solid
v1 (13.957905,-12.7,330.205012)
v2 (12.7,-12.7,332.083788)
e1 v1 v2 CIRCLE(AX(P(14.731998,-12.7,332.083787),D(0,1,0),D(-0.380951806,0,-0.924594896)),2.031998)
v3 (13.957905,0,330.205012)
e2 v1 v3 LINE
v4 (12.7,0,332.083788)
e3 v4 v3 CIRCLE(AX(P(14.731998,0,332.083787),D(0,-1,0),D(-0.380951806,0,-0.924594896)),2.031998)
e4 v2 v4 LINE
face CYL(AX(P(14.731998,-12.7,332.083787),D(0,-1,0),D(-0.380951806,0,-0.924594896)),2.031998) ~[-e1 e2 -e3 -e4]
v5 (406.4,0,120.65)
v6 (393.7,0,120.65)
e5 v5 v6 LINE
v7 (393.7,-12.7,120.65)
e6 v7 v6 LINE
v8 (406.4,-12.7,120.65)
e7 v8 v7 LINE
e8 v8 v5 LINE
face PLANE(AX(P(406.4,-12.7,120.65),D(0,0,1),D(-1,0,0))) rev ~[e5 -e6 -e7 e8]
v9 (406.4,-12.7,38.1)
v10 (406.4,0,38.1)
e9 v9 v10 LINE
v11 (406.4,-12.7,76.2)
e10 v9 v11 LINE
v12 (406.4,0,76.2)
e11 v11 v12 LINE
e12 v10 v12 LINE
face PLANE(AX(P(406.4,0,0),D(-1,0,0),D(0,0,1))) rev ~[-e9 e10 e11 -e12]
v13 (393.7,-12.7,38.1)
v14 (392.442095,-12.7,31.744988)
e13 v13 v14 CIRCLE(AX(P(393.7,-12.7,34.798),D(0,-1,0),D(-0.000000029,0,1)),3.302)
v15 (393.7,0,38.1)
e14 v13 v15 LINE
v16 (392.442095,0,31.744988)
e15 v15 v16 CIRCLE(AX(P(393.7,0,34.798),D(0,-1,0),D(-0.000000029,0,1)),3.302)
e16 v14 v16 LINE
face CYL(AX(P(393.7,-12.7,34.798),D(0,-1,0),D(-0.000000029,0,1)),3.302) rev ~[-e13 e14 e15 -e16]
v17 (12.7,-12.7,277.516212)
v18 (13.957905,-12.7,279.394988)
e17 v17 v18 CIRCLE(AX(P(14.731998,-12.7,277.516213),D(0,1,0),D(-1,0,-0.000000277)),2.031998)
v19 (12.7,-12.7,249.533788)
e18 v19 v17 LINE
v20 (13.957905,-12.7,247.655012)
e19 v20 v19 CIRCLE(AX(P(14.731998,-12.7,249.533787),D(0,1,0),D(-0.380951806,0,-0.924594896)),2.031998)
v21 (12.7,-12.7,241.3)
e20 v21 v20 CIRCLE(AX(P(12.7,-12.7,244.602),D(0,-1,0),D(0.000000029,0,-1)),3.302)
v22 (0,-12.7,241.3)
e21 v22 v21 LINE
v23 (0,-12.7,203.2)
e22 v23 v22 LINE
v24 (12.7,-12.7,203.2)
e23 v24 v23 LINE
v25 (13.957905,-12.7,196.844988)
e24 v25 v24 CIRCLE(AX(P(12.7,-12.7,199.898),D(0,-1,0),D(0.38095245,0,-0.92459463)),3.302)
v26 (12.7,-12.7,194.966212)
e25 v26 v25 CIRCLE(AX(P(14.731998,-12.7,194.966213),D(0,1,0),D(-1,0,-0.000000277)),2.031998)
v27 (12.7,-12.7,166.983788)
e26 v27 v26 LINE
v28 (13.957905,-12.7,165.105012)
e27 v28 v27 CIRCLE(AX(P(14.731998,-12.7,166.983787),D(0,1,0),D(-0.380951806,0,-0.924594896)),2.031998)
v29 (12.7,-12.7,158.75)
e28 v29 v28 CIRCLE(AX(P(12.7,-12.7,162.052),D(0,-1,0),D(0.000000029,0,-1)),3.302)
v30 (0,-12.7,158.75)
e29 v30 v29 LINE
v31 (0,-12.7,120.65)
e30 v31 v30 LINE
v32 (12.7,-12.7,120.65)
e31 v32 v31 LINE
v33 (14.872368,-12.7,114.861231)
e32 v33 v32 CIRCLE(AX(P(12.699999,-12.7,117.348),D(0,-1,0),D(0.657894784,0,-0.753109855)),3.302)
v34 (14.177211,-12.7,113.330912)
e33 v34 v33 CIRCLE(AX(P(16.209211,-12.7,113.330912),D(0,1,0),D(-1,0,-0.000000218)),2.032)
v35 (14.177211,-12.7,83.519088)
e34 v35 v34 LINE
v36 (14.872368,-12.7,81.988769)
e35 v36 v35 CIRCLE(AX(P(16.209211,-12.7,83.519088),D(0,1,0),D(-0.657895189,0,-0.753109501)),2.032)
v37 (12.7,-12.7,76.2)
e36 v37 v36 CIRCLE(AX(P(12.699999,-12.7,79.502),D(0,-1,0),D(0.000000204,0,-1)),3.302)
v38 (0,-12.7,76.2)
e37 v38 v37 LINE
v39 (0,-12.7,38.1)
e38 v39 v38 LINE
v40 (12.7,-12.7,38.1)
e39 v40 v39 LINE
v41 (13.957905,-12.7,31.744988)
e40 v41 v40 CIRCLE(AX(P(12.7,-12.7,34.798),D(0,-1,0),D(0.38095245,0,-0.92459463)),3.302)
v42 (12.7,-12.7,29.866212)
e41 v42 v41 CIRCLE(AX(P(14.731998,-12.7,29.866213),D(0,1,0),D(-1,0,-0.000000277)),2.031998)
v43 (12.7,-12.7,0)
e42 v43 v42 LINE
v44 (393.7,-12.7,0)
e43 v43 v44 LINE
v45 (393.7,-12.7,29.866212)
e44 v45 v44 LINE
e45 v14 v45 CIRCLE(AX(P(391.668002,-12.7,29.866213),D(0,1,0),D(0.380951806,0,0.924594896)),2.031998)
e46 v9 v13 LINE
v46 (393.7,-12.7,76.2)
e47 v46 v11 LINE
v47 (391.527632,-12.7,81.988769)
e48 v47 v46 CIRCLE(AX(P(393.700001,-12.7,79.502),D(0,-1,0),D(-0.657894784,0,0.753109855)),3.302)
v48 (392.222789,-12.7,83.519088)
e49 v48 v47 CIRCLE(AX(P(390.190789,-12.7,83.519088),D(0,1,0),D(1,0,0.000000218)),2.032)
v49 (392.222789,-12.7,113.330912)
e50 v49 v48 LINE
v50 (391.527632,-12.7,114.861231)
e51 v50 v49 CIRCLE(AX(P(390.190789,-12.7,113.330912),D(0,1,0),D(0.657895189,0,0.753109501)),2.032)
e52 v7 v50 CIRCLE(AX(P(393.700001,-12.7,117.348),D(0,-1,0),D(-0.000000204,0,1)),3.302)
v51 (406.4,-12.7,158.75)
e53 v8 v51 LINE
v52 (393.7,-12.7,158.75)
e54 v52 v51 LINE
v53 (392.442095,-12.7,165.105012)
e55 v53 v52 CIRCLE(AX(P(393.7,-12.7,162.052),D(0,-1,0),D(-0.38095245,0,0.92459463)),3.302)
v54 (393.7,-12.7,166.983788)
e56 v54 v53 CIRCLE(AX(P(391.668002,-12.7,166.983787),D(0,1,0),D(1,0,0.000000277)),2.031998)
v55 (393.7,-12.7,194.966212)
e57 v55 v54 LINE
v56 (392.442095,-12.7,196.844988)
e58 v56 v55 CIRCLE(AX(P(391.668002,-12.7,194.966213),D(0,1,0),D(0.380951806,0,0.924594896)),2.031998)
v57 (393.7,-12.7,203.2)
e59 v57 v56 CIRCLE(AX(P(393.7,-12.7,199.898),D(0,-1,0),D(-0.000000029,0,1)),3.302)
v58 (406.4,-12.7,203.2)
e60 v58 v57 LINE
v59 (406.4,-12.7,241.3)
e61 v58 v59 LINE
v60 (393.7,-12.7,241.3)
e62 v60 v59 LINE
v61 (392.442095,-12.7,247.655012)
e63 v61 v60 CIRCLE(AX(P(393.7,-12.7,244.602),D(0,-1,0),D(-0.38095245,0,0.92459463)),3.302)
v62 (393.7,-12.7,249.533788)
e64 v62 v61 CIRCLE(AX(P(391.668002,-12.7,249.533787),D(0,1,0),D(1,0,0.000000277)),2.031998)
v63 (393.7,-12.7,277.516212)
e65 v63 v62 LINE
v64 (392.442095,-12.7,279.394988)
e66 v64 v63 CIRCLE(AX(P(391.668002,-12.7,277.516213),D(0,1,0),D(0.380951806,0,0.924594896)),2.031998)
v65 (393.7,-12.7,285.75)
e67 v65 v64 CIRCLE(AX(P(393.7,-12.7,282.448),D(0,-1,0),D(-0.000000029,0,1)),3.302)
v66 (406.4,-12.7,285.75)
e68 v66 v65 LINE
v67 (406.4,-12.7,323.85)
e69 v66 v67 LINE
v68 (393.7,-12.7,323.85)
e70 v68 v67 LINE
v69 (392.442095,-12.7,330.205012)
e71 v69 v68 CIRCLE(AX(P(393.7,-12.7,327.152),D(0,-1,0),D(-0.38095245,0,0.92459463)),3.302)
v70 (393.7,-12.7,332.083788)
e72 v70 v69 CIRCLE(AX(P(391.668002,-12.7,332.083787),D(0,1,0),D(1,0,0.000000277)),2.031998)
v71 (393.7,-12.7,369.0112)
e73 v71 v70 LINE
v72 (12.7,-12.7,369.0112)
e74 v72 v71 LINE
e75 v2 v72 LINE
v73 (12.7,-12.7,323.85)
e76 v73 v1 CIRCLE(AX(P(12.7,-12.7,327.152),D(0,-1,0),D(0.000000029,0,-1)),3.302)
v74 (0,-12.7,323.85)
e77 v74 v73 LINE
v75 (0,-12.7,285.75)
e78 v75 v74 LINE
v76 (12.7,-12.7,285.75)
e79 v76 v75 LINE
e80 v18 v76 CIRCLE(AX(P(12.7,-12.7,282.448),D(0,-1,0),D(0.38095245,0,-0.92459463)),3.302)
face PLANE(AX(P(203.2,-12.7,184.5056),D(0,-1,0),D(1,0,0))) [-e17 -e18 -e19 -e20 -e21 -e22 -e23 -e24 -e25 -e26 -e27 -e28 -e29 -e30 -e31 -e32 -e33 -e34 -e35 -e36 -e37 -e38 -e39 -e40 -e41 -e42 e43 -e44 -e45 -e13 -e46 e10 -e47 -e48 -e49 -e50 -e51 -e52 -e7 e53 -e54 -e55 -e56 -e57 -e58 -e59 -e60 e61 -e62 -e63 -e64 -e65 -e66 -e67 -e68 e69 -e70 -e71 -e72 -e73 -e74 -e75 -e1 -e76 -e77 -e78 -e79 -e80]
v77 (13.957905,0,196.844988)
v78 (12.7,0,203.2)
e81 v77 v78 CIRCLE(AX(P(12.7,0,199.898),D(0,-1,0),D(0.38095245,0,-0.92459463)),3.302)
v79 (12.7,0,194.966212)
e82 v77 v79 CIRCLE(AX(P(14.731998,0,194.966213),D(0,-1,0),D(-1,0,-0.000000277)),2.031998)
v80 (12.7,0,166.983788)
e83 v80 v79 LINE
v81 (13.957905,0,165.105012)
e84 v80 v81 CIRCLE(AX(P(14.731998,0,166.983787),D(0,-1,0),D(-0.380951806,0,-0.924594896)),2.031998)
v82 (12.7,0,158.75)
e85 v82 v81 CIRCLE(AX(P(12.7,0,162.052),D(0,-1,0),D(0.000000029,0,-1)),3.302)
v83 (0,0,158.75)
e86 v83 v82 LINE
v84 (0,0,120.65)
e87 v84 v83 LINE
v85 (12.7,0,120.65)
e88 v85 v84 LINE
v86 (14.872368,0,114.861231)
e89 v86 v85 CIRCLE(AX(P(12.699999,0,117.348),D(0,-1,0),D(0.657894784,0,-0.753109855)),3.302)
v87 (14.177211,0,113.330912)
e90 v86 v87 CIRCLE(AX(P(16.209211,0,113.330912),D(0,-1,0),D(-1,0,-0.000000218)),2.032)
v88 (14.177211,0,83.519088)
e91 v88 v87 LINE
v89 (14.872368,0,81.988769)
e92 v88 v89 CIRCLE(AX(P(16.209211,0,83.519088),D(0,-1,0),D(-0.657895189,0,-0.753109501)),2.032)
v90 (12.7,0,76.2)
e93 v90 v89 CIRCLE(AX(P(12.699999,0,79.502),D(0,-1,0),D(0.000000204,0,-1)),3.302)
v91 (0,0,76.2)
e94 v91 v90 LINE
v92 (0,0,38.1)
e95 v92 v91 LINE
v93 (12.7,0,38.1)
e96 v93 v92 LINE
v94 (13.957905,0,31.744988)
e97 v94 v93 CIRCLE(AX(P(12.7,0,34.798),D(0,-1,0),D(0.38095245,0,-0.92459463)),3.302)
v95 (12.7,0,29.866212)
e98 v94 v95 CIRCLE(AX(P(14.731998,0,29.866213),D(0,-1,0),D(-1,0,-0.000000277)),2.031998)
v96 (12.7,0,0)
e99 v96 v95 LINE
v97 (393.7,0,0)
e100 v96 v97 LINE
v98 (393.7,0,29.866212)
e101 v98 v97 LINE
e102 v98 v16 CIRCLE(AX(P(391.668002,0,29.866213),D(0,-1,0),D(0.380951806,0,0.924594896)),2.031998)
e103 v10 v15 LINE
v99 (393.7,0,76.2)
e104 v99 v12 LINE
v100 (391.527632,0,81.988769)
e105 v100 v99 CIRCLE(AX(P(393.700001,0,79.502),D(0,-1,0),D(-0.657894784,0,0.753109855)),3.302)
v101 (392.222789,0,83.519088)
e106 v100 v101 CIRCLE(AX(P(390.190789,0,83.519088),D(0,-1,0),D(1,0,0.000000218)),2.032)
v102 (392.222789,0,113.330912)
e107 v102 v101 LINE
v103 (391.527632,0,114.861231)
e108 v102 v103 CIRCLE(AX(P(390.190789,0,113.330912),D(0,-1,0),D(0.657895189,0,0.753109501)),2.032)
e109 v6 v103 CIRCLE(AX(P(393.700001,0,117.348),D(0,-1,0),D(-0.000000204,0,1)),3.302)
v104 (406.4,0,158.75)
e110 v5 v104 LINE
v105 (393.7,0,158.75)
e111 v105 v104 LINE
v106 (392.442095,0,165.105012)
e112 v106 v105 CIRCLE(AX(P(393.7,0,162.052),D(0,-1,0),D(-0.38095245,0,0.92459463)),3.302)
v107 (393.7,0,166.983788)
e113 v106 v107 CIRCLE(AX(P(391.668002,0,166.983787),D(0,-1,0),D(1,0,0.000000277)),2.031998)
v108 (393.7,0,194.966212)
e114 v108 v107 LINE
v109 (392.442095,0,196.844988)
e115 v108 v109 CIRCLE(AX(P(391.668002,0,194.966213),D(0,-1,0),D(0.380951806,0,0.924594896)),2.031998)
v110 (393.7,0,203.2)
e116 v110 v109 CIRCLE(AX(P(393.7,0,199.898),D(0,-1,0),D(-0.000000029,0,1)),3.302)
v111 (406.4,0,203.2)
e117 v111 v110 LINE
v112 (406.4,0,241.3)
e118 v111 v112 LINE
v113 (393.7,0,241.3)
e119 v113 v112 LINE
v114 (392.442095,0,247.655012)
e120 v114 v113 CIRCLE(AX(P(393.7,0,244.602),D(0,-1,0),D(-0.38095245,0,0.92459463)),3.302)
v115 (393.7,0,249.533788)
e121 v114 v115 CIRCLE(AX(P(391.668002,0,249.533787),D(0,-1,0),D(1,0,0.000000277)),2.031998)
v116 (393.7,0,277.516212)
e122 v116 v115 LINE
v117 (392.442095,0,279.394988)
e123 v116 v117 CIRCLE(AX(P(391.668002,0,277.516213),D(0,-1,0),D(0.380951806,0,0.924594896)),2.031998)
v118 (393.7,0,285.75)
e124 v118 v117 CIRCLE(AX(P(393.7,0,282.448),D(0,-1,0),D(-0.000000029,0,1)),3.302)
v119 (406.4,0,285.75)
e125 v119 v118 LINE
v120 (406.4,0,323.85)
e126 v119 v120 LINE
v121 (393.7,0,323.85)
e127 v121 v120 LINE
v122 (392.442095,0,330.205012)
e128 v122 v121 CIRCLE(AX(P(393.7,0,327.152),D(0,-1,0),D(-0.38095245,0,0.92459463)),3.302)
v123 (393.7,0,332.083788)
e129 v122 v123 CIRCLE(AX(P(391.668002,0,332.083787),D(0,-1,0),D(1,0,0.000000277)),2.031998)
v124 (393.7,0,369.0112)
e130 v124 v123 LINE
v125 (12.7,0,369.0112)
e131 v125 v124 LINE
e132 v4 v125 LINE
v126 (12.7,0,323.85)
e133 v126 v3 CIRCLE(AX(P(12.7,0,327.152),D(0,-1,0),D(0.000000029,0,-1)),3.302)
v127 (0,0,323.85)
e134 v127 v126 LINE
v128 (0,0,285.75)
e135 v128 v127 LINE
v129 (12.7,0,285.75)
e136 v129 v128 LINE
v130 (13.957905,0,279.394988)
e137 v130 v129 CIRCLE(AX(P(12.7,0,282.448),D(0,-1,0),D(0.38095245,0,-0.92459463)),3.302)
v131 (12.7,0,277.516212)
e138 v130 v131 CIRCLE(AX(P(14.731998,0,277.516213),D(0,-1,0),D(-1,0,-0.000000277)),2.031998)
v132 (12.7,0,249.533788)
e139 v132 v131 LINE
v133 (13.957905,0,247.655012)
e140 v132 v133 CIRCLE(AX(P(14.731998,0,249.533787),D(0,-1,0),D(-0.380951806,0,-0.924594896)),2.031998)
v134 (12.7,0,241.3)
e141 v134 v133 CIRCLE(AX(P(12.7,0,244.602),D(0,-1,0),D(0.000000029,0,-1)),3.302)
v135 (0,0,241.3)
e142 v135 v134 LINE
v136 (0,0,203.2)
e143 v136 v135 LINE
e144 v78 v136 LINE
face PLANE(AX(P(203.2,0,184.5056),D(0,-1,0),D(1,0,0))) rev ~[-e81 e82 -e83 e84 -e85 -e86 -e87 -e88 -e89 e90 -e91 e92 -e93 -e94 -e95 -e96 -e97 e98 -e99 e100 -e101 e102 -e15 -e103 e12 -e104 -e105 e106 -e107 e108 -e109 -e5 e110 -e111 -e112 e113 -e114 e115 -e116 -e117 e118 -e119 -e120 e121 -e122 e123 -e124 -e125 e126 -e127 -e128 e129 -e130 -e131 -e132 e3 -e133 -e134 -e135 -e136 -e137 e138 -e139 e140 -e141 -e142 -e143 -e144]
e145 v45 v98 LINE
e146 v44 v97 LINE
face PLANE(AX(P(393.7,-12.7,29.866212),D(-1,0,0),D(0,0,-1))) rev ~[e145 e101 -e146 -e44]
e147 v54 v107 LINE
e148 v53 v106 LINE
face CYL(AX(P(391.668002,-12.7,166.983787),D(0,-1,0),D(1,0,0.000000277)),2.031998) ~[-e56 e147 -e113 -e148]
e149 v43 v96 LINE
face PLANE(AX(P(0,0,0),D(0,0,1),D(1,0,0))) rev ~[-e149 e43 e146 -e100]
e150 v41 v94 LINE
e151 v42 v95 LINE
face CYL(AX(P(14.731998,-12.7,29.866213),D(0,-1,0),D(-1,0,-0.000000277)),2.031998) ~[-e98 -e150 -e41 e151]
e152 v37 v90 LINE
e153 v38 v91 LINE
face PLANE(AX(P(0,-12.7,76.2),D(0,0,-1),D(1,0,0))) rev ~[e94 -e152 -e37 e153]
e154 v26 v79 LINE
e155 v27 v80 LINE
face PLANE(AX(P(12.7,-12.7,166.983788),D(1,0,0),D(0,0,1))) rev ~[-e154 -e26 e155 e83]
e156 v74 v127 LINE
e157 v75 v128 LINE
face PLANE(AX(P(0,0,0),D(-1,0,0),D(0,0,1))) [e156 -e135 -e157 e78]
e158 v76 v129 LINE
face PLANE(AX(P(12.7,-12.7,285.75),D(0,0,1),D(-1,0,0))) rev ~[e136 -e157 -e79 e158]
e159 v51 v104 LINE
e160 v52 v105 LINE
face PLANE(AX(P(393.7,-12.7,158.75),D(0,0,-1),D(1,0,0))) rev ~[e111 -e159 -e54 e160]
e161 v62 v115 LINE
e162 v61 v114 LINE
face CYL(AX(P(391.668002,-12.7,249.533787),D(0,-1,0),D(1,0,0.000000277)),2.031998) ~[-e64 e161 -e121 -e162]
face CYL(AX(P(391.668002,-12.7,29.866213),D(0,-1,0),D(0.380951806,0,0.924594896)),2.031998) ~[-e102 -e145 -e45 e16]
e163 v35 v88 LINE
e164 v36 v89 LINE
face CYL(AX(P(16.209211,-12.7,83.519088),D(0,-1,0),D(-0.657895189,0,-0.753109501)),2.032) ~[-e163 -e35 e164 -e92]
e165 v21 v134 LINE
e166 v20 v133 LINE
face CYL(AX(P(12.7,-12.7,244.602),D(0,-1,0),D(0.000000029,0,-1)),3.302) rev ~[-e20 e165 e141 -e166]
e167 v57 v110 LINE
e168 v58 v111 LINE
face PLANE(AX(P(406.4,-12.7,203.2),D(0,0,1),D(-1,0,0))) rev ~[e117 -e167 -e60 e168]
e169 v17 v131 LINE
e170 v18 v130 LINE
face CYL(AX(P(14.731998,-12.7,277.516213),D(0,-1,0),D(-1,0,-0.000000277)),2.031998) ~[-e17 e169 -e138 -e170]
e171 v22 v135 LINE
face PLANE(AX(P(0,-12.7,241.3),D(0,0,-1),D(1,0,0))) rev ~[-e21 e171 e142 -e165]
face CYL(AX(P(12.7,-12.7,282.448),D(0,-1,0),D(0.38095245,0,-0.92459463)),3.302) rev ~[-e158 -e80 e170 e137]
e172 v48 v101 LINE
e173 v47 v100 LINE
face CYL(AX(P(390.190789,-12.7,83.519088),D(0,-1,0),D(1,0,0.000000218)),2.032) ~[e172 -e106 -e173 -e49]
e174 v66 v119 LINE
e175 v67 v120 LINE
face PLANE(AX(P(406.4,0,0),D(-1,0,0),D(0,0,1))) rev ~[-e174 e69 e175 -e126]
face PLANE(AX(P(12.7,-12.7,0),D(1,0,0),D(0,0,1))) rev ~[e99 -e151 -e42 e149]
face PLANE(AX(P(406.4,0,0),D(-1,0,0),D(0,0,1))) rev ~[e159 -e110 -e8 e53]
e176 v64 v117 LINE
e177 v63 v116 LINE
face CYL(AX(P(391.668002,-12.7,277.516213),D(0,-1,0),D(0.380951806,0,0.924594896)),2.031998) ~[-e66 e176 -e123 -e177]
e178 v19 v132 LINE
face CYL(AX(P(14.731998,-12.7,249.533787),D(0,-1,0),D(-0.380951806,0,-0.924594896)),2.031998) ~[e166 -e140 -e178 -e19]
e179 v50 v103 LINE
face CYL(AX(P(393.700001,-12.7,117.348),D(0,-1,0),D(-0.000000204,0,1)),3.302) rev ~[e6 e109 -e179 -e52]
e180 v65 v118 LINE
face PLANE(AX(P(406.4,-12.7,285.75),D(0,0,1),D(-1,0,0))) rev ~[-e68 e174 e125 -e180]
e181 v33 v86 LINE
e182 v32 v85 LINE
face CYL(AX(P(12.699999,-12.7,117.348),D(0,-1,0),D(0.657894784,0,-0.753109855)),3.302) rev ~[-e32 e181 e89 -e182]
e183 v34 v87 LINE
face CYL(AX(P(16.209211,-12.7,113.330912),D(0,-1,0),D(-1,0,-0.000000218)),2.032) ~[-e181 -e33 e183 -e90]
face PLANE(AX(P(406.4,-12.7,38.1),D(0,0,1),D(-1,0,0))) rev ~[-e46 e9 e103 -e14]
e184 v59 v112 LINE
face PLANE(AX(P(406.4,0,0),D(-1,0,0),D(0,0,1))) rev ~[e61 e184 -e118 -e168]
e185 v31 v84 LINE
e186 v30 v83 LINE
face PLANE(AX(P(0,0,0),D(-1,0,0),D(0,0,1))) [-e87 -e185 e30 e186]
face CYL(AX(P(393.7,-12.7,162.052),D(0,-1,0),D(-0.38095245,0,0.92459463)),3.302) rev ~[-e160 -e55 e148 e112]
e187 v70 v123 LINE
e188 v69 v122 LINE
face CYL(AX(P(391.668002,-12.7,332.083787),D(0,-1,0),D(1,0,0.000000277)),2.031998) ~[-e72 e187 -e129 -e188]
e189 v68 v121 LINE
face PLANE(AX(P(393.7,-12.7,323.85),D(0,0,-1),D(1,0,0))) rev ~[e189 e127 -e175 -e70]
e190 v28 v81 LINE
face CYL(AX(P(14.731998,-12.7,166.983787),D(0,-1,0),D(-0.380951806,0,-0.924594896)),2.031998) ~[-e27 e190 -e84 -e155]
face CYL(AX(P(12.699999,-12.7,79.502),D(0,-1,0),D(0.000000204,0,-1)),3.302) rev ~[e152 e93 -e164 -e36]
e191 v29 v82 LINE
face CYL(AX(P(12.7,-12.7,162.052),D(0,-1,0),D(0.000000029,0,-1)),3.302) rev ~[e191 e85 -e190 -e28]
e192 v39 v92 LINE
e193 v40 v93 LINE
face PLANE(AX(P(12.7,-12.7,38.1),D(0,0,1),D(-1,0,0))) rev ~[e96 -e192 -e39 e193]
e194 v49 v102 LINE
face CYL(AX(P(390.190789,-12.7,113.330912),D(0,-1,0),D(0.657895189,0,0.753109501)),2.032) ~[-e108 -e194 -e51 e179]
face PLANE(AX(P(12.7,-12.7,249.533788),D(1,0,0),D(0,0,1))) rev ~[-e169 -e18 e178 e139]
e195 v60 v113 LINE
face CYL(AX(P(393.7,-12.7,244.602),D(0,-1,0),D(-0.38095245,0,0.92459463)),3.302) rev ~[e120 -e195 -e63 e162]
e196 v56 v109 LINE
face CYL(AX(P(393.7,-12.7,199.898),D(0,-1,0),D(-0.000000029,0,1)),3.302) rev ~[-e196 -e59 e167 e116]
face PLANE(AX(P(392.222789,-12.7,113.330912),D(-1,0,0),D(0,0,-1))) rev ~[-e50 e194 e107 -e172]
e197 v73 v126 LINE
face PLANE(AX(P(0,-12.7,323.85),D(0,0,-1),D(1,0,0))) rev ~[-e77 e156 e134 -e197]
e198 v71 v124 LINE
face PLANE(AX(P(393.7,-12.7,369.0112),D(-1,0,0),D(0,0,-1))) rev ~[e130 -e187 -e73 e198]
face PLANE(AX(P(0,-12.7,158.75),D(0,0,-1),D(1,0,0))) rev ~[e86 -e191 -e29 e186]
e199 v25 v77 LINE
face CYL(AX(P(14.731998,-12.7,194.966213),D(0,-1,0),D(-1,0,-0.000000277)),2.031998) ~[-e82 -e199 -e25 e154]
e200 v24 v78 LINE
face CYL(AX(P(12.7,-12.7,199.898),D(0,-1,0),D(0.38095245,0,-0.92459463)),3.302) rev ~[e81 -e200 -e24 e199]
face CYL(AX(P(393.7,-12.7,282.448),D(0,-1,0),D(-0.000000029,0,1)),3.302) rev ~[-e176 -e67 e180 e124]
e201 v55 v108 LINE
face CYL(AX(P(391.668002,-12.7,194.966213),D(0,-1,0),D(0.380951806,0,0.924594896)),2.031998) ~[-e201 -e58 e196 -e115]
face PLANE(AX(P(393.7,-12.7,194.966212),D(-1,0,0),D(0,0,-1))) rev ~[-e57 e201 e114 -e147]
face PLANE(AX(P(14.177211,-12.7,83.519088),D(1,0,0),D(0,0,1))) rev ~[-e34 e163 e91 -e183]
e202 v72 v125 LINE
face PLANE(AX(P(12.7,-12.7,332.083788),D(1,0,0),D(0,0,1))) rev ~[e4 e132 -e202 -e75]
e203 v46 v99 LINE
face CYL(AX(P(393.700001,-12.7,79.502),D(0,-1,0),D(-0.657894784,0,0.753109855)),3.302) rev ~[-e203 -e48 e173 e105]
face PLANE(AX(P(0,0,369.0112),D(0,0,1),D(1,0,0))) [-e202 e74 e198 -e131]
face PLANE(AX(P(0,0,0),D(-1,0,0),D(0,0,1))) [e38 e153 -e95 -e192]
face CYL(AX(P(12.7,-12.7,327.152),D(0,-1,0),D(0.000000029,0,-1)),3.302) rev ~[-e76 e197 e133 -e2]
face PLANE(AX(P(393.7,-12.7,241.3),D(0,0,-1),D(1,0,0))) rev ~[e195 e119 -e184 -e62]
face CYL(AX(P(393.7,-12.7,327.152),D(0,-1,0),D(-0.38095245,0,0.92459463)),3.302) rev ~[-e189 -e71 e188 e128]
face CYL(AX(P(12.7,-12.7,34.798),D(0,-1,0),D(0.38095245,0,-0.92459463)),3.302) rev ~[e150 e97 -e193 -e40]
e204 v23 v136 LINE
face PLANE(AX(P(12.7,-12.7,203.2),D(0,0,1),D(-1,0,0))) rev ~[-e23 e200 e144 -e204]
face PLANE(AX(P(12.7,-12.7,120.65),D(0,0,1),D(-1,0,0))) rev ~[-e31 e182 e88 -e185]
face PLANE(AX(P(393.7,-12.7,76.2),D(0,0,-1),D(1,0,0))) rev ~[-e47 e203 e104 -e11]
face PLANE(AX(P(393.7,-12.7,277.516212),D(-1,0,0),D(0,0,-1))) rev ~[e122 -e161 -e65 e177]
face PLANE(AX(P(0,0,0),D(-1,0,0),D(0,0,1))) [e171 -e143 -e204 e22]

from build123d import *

# Parameters (mm, degrees)
F0_W     = 406.4
F0_H     = 369.0112
F1_DEPTH = 12.7
F3_DEPTH = 25.4


with BuildPart() as f1:
    # F0 (on Front) → F1 (new body)
    with BuildSketch(Plane.XZ):
        with Locations((203.2, 184.5056)):
            Rectangle(F0_W, F0_H)
    extrude(amount=F1_DEPTH)

    # F2 (on face) → F3 (cut)
    with BuildSketch(Plane.XZ.offset(12.7)):
        with BuildLine():
            Line((0, 38.1), (0, 0))
            Line((0, 0), (12.7, 0))
            Line((12.7, 0), (12.7, 29.866212))
            ThreePointArc((12.7, 29.866212), (13.043512, 30.996713), (13.957905, 31.744988))
            ThreePointArc((13.957905, 31.744988), (15.939155, 35.439155), (12.7, 38.1))
            Line((12.7, 38.1), (0, 38.1))
        make_face()
        with BuildLine():
            Line((0, 120.65), (0, 76.2))
            Line((0, 76.2), (12.7, 76.2))
            ThreePointArc((12.7, 76.2), (15.791481, 78.341851), (14.872368, 81.988769))
            ThreePointArc((14.872368, 81.988769), (14.359145, 82.678683), (14.177211, 83.519088))
            Line((14.177211, 83.519088), (14.177211, 113.330912))
            ThreePointArc((14.177211, 113.330912), (14.359145, 114.171317), (14.872368, 114.861231))
            ThreePointArc((14.872368, 114.861231), (15.791481, 118.508149), (12.7, 120.65))
            Line((12.7, 120.65), (0, 120.65))
        make_face()
        with BuildLine():
            Line((12.7, 203.2), (0, 203.2))
            Line((0, 203.2), (0, 158.75))
            Line((0, 158.75), (12.7, 158.75))
            ThreePointArc((12.7, 158.75), (15.939155, 161.410845), (13.957905, 165.105012))
            ThreePointArc((13.957905, 165.105012), (13.043512, 165.853287), (12.7, 166.983788))
            Line((12.7, 166.983788), (12.7, 194.966212))
            ThreePointArc((12.7, 194.966212), (13.043512, 196.096713), (13.957905, 196.844988))
            ThreePointArc((13.957905, 196.844988), (15.939155, 200.539155), (12.7, 203.2))
        make_face()
        with BuildLine():
            Line((12.7, 285.75), (0, 285.75))
            Line((0, 285.75), (0, 241.3))
            Line((0, 241.3), (12.7, 241.3))
            ThreePointArc((12.7, 241.3), (15.939155, 243.960845), (13.957905, 247.655012))
            ThreePointArc((13.957905, 247.655012), (13.043512, 248.403287), (12.7, 249.533788))
            Line((12.7, 249.533788), (12.7, 277.516212))
            ThreePointArc((12.7, 277.516212), (13.043512, 278.646713), (13.957905, 279.394988))
            ThreePointArc((13.957905, 279.394988), (15.939155, 283.089155), (12.7, 285.75))
        make_face()
        with BuildLine():
            Line((0, 369.0112), (0, 323.85))
            Line((0, 323.85), (12.7, 323.85))
            ThreePointArc((12.7, 323.85), (15.939155, 326.510845), (13.957905, 330.205012))
            ThreePointArc((13.957905, 330.205012), (13.043512, 330.953287), (12.7, 332.083788))
            Line((12.7, 332.083788), (12.7, 369.0112))
            Line((12.7, 369.0112), (0, 369.0112))
        make_face()
        with BuildLine():
            Line((393.7, 277.516212), (393.7, 249.533788))
            ThreePointArc((393.7, 249.533788), (393.356488, 248.403287), (392.442095, 247.655012))
            ThreePointArc((392.442095, 247.655012), (390.460845, 243.960845), (393.7, 241.3))
            Line((393.7, 241.3), (406.4, 241.3))
            Line((406.4, 241.3), (406.4, 285.75))
            Line((406.4, 285.75), (393.7, 285.75))
            ThreePointArc((393.7, 285.75), (390.460845, 283.089155), (392.442095, 279.394988))
            ThreePointArc((392.442095, 279.394988), (393.356488, 278.646713), (393.7, 277.516212))
        make_face()
        with BuildLine():
            Line((393.7, 194.966212), (393.7, 166.983788))
            ThreePointArc((393.7, 166.983788), (393.356488, 165.853287), (392.442095, 165.105012))
            ThreePointArc((392.442095, 165.105012), (390.460845, 161.410845), (393.7, 158.75))
            Line((393.7, 158.75), (406.4, 158.75))
            Line((406.4, 158.75), (406.4, 203.2))
            Line((406.4, 203.2), (393.7, 203.2))
            ThreePointArc((393.7, 203.2), (390.460845, 200.539155), (392.442095, 196.844988))
            ThreePointArc((392.442095, 196.844988), (393.356488, 196.096713), (393.7, 194.966212))
        make_face()
        with BuildLine():
            ThreePointArc((393.7, 38.1), (390.460845, 35.439155), (392.442095, 31.744988))
            ThreePointArc((392.442095, 31.744988), (393.356488, 30.996713), (393.7, 29.866212))
            Line((393.7, 29.866212), (393.7, 0))
            Line((393.7, 0), (406.4, 0))
            Line((406.4, 0), (406.4, 38.1))
            Line((406.4, 38.1), (393.7, 38.1))
        make_face()
        with BuildLine():
            ThreePointArc((391.527632, 81.988769), (390.608519, 78.341851), (393.7, 76.2))
            Line((393.7, 76.2), (406.4, 76.2))
            Line((406.4, 76.2), (406.4, 120.65))
            Line((406.4, 120.65), (393.7, 120.65))
            ThreePointArc((393.7, 120.65), (390.608519, 118.508149), (391.527632, 114.861231))
            ThreePointArc((391.527632, 114.861231), (392.040855, 114.171317), (392.222789, 113.330912))
            Line((392.222789, 113.330912), (392.222789, 83.519088))
            ThreePointArc((392.222789, 83.519088), (392.040855, 82.678683), (391.527632, 81.988769))
        make_face()
        with BuildLine():
            ThreePointArc((392.442095, 330.205012), (390.460845, 326.510845), (393.7, 323.85))
            Line((393.7, 323.85), (406.4, 323.85))
            Line((406.4, 323.85), (406.4, 369.0112))
            Line((406.4, 369.0112), (393.7, 369.0112))
            Line((393.7, 369.0112), (393.7, 332.083788))
            ThreePointArc((393.7, 332.083788), (393.356488, 330.953287), (392.442095, 330.205012))
        make_face()
    extrude(amount=-F3_DEPTH, mode=Mode.SUBTRACT)


solid = f1.part
